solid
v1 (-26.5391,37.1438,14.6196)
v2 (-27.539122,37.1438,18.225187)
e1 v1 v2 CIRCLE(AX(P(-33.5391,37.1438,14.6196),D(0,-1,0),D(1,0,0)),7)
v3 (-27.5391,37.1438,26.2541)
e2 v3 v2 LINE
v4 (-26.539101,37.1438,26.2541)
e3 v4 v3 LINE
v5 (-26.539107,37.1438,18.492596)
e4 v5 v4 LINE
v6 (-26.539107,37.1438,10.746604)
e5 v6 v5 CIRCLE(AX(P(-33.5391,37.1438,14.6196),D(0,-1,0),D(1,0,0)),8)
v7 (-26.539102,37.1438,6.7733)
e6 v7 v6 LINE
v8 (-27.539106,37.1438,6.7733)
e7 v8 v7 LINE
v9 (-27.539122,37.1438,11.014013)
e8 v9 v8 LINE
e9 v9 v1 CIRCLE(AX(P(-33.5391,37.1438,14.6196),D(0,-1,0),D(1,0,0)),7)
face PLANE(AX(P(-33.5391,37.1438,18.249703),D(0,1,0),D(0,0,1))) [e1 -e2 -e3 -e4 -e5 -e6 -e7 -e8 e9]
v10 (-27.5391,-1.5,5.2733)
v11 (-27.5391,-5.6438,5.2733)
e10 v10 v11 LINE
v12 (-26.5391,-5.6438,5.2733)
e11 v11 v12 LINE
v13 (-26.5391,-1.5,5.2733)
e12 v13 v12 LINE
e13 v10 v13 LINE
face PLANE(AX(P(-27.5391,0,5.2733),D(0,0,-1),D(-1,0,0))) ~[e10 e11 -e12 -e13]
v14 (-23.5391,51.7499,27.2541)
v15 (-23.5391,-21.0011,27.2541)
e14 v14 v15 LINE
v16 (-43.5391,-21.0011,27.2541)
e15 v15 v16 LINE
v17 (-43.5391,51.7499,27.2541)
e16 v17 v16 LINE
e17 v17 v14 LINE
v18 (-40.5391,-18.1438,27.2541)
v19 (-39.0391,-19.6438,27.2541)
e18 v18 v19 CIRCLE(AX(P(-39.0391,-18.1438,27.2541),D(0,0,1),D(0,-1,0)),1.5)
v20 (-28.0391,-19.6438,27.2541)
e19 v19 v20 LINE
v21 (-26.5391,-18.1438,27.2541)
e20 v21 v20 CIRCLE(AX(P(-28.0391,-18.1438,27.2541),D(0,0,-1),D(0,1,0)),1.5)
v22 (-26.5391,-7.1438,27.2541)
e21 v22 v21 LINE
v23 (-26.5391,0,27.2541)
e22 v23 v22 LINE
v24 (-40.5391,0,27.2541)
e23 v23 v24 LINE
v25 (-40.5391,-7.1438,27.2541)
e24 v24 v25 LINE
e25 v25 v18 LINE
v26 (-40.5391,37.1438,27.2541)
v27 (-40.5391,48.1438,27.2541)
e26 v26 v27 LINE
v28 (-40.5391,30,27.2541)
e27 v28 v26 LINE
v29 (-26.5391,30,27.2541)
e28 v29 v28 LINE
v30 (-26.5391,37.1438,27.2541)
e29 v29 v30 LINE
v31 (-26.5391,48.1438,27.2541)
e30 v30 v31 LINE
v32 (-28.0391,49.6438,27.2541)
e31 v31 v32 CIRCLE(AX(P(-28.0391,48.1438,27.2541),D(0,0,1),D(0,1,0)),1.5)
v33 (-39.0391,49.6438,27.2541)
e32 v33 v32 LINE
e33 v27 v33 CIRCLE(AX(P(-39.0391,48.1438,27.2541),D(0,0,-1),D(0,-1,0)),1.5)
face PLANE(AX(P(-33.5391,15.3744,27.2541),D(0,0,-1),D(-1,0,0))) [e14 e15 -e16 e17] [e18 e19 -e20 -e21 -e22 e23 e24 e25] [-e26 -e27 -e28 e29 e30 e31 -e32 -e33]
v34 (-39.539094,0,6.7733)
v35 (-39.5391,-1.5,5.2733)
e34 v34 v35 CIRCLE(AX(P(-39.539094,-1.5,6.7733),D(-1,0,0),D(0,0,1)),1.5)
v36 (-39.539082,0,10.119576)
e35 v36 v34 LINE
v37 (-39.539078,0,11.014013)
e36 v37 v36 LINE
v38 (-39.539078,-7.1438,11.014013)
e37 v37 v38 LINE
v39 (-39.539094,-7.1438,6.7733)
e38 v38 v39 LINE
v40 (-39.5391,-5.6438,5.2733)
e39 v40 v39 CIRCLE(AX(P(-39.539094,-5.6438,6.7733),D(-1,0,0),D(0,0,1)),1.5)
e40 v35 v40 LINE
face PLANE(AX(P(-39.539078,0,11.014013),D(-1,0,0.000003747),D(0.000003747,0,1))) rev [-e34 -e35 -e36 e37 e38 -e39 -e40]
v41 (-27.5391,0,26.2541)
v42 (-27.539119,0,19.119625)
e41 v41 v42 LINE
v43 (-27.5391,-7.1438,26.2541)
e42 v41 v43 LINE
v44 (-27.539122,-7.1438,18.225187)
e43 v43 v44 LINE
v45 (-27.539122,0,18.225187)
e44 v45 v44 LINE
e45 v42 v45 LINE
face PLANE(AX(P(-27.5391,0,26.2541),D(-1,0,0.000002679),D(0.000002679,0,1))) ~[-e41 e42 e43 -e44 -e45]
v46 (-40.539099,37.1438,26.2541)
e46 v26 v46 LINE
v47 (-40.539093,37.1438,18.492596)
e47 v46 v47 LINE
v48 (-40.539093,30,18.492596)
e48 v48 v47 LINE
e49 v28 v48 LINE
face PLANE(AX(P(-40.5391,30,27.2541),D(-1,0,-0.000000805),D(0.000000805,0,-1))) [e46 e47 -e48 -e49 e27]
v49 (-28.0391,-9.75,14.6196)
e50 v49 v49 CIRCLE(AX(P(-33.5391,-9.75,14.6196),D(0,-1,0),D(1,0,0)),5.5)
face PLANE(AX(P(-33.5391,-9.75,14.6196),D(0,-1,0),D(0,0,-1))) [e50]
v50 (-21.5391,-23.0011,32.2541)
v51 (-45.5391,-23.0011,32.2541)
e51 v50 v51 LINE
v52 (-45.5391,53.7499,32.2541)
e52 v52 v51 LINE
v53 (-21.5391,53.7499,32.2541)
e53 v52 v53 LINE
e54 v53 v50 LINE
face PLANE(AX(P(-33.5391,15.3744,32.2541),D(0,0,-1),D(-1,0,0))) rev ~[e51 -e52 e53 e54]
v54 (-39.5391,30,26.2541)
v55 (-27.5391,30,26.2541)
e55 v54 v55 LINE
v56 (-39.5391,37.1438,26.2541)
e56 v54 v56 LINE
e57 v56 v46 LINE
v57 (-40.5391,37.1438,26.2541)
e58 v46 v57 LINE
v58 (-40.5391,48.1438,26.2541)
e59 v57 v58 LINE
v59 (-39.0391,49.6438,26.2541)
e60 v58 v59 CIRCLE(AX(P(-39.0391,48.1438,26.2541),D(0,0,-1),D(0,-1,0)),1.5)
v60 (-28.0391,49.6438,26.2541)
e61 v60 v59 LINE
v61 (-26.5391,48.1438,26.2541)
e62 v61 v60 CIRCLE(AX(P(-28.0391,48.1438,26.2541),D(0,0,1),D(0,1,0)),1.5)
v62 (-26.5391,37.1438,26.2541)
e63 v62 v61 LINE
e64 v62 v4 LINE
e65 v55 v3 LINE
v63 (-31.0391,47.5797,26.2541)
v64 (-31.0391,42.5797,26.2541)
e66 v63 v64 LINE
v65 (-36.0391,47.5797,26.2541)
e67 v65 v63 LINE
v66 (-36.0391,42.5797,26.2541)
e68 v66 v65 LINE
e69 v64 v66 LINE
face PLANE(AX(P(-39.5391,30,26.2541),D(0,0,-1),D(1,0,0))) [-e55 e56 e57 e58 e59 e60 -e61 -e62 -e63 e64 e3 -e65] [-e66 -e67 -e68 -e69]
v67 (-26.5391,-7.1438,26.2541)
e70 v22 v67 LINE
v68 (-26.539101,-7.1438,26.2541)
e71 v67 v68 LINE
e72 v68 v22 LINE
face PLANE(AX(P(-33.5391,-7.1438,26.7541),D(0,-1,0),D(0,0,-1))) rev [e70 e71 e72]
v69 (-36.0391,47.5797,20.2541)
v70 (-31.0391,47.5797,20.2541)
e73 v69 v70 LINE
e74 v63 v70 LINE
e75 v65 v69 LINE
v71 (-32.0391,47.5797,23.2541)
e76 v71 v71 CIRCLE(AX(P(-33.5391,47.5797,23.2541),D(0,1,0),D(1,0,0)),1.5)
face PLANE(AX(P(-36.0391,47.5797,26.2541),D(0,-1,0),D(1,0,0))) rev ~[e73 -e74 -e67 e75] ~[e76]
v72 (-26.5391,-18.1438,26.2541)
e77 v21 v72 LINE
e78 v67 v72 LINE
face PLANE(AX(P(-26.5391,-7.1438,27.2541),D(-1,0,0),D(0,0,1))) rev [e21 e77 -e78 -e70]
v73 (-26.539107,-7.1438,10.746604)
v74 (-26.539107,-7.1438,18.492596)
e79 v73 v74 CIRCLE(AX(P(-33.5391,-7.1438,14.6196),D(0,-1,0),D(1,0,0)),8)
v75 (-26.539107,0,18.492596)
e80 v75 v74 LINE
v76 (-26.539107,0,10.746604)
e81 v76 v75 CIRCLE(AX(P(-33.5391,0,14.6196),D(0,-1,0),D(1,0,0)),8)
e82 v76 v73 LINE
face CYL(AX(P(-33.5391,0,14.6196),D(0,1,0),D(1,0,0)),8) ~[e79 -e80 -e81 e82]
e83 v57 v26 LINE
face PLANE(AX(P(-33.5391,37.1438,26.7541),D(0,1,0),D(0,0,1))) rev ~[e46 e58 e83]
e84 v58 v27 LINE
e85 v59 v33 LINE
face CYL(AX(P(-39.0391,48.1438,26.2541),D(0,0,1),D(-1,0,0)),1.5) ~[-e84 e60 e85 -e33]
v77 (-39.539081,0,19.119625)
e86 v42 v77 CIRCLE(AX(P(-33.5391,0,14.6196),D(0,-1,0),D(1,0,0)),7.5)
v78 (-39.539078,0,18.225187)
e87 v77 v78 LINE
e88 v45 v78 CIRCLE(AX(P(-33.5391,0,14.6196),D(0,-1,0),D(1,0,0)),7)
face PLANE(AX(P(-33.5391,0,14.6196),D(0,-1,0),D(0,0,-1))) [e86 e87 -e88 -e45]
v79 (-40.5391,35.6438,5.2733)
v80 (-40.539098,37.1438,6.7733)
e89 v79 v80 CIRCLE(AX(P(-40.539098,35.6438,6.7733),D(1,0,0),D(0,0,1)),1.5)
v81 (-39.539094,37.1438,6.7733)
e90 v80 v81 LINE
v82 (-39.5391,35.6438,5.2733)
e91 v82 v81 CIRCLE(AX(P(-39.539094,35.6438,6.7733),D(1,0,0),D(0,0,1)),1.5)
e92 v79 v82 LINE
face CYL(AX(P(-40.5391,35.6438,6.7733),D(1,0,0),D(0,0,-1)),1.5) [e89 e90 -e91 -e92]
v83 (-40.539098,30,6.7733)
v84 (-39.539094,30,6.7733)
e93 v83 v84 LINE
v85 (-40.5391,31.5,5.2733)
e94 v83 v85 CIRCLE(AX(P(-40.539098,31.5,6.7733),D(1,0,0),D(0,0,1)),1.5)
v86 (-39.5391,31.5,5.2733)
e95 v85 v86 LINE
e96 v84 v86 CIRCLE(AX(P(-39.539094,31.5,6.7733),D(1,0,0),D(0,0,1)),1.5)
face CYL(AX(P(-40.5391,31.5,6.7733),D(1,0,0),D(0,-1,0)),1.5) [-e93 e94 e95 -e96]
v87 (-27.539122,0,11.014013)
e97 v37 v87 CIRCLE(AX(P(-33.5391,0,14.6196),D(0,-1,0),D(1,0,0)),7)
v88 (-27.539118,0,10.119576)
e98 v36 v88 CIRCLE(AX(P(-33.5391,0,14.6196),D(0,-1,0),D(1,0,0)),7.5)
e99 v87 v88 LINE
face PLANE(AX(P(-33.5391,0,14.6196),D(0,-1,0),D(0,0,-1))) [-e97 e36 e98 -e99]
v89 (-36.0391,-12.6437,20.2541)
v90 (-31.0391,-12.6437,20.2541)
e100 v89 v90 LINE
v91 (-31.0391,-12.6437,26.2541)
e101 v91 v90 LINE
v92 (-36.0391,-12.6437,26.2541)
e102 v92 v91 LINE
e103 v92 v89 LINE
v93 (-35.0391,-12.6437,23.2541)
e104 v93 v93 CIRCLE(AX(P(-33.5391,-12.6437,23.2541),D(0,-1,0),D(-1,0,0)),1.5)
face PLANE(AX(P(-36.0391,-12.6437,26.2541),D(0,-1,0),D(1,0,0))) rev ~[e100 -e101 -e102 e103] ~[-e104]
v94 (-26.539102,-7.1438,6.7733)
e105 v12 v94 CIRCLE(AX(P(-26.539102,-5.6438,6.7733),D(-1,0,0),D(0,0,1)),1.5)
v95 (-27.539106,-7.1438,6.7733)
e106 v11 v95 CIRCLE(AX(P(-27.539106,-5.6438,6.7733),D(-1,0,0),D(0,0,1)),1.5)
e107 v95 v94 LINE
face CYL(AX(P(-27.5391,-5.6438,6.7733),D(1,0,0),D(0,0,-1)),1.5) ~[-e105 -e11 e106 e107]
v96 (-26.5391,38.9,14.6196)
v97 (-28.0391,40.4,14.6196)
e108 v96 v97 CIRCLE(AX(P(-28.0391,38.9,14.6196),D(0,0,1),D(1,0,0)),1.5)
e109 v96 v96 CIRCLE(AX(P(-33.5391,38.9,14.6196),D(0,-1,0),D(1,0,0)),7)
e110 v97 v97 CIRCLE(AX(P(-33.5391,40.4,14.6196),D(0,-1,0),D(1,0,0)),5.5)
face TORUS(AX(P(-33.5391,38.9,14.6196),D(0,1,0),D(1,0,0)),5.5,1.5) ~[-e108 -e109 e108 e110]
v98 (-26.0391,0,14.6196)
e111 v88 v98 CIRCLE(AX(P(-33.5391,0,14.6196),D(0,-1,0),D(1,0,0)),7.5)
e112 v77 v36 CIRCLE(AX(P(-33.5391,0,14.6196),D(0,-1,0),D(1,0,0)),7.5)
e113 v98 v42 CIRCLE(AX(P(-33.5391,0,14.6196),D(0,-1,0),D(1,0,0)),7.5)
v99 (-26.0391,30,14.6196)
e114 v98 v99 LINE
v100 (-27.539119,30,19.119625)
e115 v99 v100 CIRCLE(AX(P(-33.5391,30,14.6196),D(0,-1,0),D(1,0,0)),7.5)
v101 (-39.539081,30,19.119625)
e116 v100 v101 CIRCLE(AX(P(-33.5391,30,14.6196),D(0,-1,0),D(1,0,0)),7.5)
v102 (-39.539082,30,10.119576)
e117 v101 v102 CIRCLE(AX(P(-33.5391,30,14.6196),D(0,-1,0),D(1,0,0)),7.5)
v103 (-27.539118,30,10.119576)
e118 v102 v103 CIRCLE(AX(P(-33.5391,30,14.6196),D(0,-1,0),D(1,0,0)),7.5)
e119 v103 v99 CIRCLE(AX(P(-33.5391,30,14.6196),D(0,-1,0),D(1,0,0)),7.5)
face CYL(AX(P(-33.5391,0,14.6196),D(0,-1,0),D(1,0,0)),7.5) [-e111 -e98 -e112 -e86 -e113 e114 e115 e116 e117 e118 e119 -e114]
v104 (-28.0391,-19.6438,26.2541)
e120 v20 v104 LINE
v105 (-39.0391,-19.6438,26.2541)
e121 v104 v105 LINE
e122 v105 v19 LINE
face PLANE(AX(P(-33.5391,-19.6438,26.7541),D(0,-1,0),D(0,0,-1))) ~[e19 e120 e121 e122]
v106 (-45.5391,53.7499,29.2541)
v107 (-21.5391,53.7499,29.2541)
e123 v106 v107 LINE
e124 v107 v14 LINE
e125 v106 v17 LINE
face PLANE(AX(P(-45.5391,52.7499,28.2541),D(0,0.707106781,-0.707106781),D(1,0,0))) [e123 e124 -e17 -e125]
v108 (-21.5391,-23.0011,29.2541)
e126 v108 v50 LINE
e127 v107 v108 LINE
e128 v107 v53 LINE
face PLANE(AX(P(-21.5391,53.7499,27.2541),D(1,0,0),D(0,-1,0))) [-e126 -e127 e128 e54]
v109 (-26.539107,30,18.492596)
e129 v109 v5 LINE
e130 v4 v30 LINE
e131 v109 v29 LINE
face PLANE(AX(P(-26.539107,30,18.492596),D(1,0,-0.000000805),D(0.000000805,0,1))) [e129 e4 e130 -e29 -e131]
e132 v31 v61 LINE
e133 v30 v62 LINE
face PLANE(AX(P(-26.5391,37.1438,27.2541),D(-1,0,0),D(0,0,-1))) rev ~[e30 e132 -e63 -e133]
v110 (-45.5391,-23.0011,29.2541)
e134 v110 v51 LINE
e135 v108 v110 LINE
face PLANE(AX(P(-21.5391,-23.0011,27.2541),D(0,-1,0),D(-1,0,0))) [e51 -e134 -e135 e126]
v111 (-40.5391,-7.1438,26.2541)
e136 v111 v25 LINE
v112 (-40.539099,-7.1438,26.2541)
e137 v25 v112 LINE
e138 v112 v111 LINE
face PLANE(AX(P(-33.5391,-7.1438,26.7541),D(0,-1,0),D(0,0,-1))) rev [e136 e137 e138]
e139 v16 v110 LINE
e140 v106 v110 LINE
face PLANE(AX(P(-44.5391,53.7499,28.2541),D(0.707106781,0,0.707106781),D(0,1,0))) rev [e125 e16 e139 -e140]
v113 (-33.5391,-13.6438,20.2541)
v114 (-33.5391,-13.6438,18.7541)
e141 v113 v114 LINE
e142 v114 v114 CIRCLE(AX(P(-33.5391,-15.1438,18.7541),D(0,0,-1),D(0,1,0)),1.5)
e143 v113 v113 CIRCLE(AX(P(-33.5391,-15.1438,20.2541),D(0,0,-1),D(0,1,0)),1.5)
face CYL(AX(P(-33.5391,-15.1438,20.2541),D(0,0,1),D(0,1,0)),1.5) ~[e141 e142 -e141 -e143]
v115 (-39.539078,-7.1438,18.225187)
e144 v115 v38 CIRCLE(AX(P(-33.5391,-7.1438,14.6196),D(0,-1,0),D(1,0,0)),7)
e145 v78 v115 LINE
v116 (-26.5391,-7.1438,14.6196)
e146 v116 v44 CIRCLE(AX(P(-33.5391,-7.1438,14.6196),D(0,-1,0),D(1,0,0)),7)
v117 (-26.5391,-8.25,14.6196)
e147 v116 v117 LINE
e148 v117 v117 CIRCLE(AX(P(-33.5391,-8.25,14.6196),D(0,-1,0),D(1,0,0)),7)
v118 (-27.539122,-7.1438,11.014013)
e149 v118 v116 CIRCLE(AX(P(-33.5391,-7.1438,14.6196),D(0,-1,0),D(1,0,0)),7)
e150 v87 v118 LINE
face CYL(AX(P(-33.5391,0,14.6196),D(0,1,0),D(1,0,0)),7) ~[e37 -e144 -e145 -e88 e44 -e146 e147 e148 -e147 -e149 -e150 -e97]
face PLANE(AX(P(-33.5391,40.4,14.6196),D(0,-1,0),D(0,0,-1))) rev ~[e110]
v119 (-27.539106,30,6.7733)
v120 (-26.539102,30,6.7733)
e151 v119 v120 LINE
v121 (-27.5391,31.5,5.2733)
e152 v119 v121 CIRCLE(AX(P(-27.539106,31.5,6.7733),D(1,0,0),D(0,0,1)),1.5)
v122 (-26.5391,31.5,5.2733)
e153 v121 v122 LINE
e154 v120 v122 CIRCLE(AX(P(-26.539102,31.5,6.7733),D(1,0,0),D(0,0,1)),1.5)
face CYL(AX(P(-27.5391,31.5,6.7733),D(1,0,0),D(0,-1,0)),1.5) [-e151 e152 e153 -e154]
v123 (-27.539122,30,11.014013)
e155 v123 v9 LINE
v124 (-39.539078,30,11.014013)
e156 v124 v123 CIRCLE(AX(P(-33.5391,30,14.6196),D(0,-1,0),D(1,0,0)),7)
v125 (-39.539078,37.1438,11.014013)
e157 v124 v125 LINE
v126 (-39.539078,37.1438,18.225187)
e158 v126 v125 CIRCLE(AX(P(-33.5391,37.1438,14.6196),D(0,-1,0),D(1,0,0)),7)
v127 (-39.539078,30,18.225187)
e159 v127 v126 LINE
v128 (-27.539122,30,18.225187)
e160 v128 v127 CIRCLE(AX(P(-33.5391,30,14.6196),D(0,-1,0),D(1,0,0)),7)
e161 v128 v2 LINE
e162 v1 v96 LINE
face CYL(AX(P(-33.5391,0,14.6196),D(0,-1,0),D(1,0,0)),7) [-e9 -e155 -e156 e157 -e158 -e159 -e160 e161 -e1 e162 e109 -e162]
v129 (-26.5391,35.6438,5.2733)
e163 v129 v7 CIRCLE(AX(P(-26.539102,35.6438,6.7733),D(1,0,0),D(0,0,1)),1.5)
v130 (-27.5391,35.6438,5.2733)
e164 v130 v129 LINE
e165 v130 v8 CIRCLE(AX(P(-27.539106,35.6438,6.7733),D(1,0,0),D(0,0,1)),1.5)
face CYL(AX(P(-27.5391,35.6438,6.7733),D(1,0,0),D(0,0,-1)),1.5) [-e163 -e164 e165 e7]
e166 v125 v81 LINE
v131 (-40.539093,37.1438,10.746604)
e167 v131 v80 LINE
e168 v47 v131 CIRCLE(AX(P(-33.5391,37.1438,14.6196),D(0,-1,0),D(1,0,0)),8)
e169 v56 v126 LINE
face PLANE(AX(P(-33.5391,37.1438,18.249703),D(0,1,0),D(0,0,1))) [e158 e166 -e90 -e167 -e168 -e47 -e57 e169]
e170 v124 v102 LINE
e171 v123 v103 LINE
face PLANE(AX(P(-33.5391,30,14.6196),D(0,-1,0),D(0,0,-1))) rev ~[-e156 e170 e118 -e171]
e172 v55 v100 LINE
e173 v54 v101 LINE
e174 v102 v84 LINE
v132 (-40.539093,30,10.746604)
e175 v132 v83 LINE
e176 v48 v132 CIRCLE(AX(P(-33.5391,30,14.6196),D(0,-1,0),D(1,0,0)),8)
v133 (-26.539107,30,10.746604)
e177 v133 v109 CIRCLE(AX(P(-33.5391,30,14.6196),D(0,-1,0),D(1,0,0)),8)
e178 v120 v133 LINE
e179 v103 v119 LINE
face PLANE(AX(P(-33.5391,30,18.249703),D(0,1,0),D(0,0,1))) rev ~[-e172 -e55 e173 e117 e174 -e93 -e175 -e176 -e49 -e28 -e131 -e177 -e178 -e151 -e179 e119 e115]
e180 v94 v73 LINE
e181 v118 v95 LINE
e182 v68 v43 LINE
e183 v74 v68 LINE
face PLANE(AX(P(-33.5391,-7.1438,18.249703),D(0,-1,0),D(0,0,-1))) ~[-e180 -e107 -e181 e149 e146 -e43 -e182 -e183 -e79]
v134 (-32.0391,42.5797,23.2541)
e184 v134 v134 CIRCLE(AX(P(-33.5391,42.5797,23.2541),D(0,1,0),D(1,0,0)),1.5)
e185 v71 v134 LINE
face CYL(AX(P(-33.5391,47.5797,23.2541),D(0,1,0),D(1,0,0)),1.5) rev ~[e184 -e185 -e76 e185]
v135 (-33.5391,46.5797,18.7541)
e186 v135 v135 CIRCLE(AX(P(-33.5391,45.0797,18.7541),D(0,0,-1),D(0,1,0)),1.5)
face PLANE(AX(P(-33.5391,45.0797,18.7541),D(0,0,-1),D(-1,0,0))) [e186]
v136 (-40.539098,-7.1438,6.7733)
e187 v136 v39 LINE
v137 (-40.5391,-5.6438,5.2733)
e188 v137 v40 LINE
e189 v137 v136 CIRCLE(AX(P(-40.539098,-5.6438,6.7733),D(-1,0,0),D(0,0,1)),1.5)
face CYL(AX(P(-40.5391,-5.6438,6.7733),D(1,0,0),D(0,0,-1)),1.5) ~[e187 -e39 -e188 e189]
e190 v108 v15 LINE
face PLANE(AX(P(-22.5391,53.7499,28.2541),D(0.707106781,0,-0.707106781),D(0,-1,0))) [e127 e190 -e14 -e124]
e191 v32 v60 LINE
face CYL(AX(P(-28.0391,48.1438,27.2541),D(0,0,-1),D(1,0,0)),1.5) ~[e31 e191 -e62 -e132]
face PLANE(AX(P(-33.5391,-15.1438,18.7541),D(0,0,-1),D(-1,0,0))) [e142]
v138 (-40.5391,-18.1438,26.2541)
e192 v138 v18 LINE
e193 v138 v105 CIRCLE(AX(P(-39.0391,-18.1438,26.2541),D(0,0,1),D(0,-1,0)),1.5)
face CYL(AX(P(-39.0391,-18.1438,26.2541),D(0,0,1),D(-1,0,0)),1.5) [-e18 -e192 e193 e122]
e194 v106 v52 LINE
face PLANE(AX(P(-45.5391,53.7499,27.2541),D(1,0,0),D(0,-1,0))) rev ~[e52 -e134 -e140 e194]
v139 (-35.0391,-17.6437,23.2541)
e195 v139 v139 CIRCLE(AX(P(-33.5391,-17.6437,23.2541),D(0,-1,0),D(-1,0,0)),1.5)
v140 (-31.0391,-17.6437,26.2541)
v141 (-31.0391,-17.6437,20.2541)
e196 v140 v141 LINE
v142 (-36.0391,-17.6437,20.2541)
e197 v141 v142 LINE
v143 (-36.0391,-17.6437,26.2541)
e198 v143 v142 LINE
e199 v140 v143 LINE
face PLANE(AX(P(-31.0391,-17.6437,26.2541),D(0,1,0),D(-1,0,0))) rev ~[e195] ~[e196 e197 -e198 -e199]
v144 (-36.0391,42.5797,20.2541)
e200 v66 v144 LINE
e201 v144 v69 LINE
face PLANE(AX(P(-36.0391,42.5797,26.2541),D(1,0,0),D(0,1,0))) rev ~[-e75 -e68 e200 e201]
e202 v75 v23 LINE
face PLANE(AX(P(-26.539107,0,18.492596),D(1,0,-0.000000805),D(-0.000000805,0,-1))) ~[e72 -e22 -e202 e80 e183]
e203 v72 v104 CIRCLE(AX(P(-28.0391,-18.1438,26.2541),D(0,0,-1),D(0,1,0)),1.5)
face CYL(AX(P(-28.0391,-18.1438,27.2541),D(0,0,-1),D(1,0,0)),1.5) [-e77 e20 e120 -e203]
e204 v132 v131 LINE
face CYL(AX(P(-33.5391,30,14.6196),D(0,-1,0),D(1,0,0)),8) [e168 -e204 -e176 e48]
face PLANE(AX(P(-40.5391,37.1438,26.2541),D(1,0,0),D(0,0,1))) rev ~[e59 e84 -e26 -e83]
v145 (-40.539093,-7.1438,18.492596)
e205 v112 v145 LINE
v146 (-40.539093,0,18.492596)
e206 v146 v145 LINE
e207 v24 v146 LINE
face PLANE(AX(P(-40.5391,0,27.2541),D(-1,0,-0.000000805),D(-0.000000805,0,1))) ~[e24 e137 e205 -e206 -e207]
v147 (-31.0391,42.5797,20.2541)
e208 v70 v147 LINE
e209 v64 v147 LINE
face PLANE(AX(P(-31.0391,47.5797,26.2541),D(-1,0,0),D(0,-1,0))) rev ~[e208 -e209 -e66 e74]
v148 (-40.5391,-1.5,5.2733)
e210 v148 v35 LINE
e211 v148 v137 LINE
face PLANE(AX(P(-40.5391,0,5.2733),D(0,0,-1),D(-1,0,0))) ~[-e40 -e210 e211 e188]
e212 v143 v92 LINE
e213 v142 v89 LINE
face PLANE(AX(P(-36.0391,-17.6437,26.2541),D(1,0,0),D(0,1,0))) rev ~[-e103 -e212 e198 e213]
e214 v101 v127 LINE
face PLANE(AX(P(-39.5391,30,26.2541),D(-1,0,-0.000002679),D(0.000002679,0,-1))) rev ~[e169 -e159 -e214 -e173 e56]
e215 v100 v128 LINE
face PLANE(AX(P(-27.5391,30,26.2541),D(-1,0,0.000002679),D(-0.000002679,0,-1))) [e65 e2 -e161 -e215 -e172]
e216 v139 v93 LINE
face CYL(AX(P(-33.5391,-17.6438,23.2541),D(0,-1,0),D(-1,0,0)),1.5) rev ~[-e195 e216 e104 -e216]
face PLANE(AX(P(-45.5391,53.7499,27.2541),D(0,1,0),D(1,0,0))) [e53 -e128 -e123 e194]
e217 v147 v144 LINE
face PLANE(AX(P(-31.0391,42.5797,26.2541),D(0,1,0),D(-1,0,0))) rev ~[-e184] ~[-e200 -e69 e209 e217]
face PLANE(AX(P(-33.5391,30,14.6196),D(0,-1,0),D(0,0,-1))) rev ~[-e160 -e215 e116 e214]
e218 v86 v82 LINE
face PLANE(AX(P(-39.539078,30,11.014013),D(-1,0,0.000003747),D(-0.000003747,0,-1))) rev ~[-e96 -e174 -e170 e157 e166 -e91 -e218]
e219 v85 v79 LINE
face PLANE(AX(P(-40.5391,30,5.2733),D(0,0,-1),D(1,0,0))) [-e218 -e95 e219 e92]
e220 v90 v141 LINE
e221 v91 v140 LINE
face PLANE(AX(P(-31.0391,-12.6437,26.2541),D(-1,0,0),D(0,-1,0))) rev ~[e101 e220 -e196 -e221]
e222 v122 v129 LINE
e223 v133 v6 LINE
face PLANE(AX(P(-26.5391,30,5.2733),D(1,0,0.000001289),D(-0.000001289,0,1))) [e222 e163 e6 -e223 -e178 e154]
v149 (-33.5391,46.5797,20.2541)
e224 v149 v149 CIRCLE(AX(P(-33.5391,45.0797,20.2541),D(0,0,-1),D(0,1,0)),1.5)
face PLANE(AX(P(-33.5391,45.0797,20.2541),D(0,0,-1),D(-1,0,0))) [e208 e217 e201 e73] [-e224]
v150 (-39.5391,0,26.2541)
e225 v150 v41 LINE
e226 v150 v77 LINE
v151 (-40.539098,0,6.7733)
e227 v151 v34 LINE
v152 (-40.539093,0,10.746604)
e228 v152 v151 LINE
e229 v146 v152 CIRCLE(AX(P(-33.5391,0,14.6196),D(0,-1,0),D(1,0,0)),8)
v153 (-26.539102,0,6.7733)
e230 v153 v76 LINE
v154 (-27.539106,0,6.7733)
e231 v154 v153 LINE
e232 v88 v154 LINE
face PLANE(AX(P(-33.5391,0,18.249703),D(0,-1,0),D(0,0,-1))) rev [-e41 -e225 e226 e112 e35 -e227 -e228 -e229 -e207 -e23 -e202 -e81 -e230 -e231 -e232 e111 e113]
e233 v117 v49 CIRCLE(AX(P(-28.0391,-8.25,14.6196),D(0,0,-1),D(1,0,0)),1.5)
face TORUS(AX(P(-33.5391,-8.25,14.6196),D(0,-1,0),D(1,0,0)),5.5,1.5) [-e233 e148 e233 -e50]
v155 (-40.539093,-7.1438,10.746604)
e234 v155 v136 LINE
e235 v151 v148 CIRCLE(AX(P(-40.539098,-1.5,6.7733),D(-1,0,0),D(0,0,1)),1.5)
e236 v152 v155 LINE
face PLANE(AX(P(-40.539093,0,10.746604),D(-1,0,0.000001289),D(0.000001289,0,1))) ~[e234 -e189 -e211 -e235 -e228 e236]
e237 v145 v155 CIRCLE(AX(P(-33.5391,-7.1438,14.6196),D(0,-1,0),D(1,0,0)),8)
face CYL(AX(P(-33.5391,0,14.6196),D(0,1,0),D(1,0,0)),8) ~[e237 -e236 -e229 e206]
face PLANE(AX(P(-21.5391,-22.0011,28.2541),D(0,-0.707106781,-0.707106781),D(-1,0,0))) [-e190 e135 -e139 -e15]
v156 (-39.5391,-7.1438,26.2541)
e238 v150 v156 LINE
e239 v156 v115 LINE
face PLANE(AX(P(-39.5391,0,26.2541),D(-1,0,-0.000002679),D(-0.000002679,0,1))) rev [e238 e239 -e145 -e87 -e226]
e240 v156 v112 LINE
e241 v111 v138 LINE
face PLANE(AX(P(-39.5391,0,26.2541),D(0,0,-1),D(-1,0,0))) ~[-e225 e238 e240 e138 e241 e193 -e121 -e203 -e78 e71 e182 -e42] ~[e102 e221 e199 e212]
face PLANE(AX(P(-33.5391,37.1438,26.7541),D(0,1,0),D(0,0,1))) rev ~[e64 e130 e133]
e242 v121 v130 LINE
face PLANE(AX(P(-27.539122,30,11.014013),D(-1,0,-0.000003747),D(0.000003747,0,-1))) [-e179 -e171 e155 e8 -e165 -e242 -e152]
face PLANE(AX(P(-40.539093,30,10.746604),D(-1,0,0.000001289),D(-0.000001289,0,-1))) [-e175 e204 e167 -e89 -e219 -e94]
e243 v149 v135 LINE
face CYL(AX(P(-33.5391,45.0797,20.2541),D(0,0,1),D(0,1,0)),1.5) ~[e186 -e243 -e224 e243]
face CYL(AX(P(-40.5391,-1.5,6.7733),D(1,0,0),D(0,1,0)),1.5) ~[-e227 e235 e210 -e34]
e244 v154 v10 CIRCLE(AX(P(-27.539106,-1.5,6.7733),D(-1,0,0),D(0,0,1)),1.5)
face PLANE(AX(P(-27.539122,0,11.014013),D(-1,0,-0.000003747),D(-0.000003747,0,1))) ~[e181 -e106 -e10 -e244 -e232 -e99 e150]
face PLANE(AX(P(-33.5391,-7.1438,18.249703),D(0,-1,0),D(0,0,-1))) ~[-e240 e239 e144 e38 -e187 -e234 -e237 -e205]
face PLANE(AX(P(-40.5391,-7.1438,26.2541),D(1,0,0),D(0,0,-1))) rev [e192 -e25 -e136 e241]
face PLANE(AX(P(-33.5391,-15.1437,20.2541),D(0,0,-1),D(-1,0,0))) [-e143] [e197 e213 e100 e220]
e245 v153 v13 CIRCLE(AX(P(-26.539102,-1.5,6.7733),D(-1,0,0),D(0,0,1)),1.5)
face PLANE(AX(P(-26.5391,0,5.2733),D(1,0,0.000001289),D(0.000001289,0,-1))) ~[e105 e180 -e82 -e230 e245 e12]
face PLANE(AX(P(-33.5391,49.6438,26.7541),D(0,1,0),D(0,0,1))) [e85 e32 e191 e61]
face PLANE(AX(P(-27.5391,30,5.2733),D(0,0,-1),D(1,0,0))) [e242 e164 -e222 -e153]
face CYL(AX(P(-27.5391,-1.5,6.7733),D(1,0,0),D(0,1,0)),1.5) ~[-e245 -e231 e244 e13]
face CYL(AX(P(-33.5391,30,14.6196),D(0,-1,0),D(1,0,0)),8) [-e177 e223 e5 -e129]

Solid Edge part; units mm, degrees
sketch "Sketch1" plane through (0, 0, 0) normal (0, -1, 0) x (1, 0, 0)
  circle A0 centre (-33.5391, 14.6196) radius 7.5
extrude "Protrusion1" add sketch "Sketch1" against normal blind 30
sketch "Sketch2" plane through (-33.5391, 0, 14.6196) normal (0, -1, 0) x (1, 0, 0)
  circle A0 centre (0, 0) radius 7
extrude "ExtrudedProtrusion_2" add sketch "Sketch2" along normal blind 9.75 and the other way blind 40.4
fillet "Round_1" radius 1.5 2 edges at (-40.5391, -9.75, 14.6196) (-40.5391, 40.4, 14.6196)
sketch "Sketch3" plane through (-33.5391, 30, 14.6196) normal (0, 1, 0) x (1, 0, 0)
  line L0 (-6, -11.6345) -> (-6, -3.6056)
  arc A0 (-6, -3.6056) -> (-6, 3.6056) centre (0, 0) cw
  line L1 (-6, 3.6056) -> (-6, 9.3463)
  line L2 (-7, 9.3463) -> (-6, 9.3463)
  line L3 (-7, 3.873) -> (-7, 9.3463)
  arc A1 (-7, -3.873) -> (-7, 3.873) centre (0, 0) cw
  line L4 (-7, -12.6345) -> (-7, -3.873)
  line L5 (7, -12.6345) -> (-7, -12.6345)
  line L6 (7, -3.873) -> (7, -12.6345)
  arc A2 (7, 3.873) -> (7, -3.873) centre (0, 0) cw
  line L7 (7, 9.3463) -> (7, 3.873)
  line L8 (6, 9.3463) -> (7, 9.3463)
  line L9 (6, 3.6056) -> (6, 9.3463)
  line L10 (6, -11.6345) -> (6, -3.6056)
  line L11 (-6, -11.6345) -> (6, -11.6345)
  arc A3 (6, 3.6056) -> (6, -3.6056) centre (0, 0) cw
extrude "ExtrudedProtrusion_3" add sketch "Sketch3" along normal blind 7.1438
sketch "Sketch4" plane through (-33.5391, 37.1438, 16.2637) normal (0, 1, 0) x (1, 0, 0)
  line L0 (7, -9.9904) -> (-7, -9.9904)
  line L1 (-7, -9.9904) -> (-7, -10.9904)
  line L2 (-7, -10.9904) -> (7, -10.9904)
  line L3 (7, -10.9904) -> (7, -9.9904)
extrude "ExtrudedProtrusion_4" add sketch "Sketch4" along normal blind 12.5
fillet "Round_2" radius 1.5 6 edges at (-40.0391, 37.1438, 5.2733) (-40.0391, 30, 5.2733) (-27.0391, 30, 5.2733) (-27.0391, 37.1438, 5.2733) (-26.5391, 49.6437, 26.7541) (-40.5391, 49.6437, 26.7541)
mirror "Mirror1" about plane through (0, 15, 0) normal (0, -1, 0) of "ExtrudedProtrusion_4", "ExtrudedProtrusion_3"
fillet "Round1" radius 1.5 6 edges at (-40.0391, -7.1438, 5.2733) (-40.0391, 0, 5.2733) (-27.0391, 0, 5.2733) (-27.0391, -7.1438, 5.2733) (-26.5391, -19.6438, 26.7541) (-40.5391, -19.6438, 26.7541)
sketch "Sketch5" plane through (-33.5391, 49.8219, 27.2541) normal (0, 0, 1) x (1, 0, 0)
  line L0 (12, 3.928) -> (12, -72.823)
  line L1 (12, -72.823) -> (-12, -72.823)
  line L2 (-12, 3.928) -> (-12, -72.823)
  line L3 (-12, 3.928) -> (12, 3.928)
  dimension "D1" = 24
extrude "ExtrudedProtrusion_7" add sketch "Sketch5" along normal blind 5
chamfer "Chamfer_1" distance 2 angle 45 4 edges at (-33.5391, 53.7499, 27.2541) (-45.5391, 15.3744, 27.2541) (-33.5391, -23.0011, 27.2541) (-21.5391, 15.3744, 27.2541)
sketch "Sketch6" plane through (-33.5391, 39.8219, 26.2541) normal (0, 0, -1) x (0, -1, 0)
  line L0 (-7.7578, -2.5) -> (-2.7578, -2.5)
  line L1 (-2.7578, -2.5) -> (-2.7578, 2.5)
  line L2 (-2.7578, 2.5) -> (-7.7578, 2.5)
  line L3 (-7.7578, 2.5) -> (-7.7578, -2.5)
  line L4 (52.4656, -2.5) -> (57.4656, -2.5)
  line L5 (57.4656, -2.5) -> (57.4656, 2.5)
  line L6 (57.4656, 2.5) -> (52.4656, 2.5)
  line L7 (52.4656, 2.5) -> (52.4656, -2.5)
extrude "ExtrudedProtrusion_8" add sketch "Sketch6" along normal blind 6
sketch "Sketch7" plane through (-33.5391, 47.5797, 22.7541) normal (0, 1, 0) x (1, 0, 0)
  circle A0 centre (0, -0.5) radius 1.5
extrude "Cutout1" cut sketch "Sketch7" against normal up to next
sketch "Sketch8" plane through (-33.5391, -17.6438, 22.7541) normal (0, -1, 0) x (-1, 0, 0)
  circle A0 centre (0, -0.5) radius 1.5
extrude "Cutout2" cut sketch "Sketch8" against normal up to next
sketch "Sketch9" plane through (-33.5391, 45.0797, 20.2541) normal (0, 0, -1) x (0, 1, 0)
  circle A0 centre (0, 0) radius 1.5
  circle A1 centre (-60.2235, 0) radius 1.5
extrude "ExtrudedProtrusion_9" add sketch "Sketch9" along normal blind 1.5
